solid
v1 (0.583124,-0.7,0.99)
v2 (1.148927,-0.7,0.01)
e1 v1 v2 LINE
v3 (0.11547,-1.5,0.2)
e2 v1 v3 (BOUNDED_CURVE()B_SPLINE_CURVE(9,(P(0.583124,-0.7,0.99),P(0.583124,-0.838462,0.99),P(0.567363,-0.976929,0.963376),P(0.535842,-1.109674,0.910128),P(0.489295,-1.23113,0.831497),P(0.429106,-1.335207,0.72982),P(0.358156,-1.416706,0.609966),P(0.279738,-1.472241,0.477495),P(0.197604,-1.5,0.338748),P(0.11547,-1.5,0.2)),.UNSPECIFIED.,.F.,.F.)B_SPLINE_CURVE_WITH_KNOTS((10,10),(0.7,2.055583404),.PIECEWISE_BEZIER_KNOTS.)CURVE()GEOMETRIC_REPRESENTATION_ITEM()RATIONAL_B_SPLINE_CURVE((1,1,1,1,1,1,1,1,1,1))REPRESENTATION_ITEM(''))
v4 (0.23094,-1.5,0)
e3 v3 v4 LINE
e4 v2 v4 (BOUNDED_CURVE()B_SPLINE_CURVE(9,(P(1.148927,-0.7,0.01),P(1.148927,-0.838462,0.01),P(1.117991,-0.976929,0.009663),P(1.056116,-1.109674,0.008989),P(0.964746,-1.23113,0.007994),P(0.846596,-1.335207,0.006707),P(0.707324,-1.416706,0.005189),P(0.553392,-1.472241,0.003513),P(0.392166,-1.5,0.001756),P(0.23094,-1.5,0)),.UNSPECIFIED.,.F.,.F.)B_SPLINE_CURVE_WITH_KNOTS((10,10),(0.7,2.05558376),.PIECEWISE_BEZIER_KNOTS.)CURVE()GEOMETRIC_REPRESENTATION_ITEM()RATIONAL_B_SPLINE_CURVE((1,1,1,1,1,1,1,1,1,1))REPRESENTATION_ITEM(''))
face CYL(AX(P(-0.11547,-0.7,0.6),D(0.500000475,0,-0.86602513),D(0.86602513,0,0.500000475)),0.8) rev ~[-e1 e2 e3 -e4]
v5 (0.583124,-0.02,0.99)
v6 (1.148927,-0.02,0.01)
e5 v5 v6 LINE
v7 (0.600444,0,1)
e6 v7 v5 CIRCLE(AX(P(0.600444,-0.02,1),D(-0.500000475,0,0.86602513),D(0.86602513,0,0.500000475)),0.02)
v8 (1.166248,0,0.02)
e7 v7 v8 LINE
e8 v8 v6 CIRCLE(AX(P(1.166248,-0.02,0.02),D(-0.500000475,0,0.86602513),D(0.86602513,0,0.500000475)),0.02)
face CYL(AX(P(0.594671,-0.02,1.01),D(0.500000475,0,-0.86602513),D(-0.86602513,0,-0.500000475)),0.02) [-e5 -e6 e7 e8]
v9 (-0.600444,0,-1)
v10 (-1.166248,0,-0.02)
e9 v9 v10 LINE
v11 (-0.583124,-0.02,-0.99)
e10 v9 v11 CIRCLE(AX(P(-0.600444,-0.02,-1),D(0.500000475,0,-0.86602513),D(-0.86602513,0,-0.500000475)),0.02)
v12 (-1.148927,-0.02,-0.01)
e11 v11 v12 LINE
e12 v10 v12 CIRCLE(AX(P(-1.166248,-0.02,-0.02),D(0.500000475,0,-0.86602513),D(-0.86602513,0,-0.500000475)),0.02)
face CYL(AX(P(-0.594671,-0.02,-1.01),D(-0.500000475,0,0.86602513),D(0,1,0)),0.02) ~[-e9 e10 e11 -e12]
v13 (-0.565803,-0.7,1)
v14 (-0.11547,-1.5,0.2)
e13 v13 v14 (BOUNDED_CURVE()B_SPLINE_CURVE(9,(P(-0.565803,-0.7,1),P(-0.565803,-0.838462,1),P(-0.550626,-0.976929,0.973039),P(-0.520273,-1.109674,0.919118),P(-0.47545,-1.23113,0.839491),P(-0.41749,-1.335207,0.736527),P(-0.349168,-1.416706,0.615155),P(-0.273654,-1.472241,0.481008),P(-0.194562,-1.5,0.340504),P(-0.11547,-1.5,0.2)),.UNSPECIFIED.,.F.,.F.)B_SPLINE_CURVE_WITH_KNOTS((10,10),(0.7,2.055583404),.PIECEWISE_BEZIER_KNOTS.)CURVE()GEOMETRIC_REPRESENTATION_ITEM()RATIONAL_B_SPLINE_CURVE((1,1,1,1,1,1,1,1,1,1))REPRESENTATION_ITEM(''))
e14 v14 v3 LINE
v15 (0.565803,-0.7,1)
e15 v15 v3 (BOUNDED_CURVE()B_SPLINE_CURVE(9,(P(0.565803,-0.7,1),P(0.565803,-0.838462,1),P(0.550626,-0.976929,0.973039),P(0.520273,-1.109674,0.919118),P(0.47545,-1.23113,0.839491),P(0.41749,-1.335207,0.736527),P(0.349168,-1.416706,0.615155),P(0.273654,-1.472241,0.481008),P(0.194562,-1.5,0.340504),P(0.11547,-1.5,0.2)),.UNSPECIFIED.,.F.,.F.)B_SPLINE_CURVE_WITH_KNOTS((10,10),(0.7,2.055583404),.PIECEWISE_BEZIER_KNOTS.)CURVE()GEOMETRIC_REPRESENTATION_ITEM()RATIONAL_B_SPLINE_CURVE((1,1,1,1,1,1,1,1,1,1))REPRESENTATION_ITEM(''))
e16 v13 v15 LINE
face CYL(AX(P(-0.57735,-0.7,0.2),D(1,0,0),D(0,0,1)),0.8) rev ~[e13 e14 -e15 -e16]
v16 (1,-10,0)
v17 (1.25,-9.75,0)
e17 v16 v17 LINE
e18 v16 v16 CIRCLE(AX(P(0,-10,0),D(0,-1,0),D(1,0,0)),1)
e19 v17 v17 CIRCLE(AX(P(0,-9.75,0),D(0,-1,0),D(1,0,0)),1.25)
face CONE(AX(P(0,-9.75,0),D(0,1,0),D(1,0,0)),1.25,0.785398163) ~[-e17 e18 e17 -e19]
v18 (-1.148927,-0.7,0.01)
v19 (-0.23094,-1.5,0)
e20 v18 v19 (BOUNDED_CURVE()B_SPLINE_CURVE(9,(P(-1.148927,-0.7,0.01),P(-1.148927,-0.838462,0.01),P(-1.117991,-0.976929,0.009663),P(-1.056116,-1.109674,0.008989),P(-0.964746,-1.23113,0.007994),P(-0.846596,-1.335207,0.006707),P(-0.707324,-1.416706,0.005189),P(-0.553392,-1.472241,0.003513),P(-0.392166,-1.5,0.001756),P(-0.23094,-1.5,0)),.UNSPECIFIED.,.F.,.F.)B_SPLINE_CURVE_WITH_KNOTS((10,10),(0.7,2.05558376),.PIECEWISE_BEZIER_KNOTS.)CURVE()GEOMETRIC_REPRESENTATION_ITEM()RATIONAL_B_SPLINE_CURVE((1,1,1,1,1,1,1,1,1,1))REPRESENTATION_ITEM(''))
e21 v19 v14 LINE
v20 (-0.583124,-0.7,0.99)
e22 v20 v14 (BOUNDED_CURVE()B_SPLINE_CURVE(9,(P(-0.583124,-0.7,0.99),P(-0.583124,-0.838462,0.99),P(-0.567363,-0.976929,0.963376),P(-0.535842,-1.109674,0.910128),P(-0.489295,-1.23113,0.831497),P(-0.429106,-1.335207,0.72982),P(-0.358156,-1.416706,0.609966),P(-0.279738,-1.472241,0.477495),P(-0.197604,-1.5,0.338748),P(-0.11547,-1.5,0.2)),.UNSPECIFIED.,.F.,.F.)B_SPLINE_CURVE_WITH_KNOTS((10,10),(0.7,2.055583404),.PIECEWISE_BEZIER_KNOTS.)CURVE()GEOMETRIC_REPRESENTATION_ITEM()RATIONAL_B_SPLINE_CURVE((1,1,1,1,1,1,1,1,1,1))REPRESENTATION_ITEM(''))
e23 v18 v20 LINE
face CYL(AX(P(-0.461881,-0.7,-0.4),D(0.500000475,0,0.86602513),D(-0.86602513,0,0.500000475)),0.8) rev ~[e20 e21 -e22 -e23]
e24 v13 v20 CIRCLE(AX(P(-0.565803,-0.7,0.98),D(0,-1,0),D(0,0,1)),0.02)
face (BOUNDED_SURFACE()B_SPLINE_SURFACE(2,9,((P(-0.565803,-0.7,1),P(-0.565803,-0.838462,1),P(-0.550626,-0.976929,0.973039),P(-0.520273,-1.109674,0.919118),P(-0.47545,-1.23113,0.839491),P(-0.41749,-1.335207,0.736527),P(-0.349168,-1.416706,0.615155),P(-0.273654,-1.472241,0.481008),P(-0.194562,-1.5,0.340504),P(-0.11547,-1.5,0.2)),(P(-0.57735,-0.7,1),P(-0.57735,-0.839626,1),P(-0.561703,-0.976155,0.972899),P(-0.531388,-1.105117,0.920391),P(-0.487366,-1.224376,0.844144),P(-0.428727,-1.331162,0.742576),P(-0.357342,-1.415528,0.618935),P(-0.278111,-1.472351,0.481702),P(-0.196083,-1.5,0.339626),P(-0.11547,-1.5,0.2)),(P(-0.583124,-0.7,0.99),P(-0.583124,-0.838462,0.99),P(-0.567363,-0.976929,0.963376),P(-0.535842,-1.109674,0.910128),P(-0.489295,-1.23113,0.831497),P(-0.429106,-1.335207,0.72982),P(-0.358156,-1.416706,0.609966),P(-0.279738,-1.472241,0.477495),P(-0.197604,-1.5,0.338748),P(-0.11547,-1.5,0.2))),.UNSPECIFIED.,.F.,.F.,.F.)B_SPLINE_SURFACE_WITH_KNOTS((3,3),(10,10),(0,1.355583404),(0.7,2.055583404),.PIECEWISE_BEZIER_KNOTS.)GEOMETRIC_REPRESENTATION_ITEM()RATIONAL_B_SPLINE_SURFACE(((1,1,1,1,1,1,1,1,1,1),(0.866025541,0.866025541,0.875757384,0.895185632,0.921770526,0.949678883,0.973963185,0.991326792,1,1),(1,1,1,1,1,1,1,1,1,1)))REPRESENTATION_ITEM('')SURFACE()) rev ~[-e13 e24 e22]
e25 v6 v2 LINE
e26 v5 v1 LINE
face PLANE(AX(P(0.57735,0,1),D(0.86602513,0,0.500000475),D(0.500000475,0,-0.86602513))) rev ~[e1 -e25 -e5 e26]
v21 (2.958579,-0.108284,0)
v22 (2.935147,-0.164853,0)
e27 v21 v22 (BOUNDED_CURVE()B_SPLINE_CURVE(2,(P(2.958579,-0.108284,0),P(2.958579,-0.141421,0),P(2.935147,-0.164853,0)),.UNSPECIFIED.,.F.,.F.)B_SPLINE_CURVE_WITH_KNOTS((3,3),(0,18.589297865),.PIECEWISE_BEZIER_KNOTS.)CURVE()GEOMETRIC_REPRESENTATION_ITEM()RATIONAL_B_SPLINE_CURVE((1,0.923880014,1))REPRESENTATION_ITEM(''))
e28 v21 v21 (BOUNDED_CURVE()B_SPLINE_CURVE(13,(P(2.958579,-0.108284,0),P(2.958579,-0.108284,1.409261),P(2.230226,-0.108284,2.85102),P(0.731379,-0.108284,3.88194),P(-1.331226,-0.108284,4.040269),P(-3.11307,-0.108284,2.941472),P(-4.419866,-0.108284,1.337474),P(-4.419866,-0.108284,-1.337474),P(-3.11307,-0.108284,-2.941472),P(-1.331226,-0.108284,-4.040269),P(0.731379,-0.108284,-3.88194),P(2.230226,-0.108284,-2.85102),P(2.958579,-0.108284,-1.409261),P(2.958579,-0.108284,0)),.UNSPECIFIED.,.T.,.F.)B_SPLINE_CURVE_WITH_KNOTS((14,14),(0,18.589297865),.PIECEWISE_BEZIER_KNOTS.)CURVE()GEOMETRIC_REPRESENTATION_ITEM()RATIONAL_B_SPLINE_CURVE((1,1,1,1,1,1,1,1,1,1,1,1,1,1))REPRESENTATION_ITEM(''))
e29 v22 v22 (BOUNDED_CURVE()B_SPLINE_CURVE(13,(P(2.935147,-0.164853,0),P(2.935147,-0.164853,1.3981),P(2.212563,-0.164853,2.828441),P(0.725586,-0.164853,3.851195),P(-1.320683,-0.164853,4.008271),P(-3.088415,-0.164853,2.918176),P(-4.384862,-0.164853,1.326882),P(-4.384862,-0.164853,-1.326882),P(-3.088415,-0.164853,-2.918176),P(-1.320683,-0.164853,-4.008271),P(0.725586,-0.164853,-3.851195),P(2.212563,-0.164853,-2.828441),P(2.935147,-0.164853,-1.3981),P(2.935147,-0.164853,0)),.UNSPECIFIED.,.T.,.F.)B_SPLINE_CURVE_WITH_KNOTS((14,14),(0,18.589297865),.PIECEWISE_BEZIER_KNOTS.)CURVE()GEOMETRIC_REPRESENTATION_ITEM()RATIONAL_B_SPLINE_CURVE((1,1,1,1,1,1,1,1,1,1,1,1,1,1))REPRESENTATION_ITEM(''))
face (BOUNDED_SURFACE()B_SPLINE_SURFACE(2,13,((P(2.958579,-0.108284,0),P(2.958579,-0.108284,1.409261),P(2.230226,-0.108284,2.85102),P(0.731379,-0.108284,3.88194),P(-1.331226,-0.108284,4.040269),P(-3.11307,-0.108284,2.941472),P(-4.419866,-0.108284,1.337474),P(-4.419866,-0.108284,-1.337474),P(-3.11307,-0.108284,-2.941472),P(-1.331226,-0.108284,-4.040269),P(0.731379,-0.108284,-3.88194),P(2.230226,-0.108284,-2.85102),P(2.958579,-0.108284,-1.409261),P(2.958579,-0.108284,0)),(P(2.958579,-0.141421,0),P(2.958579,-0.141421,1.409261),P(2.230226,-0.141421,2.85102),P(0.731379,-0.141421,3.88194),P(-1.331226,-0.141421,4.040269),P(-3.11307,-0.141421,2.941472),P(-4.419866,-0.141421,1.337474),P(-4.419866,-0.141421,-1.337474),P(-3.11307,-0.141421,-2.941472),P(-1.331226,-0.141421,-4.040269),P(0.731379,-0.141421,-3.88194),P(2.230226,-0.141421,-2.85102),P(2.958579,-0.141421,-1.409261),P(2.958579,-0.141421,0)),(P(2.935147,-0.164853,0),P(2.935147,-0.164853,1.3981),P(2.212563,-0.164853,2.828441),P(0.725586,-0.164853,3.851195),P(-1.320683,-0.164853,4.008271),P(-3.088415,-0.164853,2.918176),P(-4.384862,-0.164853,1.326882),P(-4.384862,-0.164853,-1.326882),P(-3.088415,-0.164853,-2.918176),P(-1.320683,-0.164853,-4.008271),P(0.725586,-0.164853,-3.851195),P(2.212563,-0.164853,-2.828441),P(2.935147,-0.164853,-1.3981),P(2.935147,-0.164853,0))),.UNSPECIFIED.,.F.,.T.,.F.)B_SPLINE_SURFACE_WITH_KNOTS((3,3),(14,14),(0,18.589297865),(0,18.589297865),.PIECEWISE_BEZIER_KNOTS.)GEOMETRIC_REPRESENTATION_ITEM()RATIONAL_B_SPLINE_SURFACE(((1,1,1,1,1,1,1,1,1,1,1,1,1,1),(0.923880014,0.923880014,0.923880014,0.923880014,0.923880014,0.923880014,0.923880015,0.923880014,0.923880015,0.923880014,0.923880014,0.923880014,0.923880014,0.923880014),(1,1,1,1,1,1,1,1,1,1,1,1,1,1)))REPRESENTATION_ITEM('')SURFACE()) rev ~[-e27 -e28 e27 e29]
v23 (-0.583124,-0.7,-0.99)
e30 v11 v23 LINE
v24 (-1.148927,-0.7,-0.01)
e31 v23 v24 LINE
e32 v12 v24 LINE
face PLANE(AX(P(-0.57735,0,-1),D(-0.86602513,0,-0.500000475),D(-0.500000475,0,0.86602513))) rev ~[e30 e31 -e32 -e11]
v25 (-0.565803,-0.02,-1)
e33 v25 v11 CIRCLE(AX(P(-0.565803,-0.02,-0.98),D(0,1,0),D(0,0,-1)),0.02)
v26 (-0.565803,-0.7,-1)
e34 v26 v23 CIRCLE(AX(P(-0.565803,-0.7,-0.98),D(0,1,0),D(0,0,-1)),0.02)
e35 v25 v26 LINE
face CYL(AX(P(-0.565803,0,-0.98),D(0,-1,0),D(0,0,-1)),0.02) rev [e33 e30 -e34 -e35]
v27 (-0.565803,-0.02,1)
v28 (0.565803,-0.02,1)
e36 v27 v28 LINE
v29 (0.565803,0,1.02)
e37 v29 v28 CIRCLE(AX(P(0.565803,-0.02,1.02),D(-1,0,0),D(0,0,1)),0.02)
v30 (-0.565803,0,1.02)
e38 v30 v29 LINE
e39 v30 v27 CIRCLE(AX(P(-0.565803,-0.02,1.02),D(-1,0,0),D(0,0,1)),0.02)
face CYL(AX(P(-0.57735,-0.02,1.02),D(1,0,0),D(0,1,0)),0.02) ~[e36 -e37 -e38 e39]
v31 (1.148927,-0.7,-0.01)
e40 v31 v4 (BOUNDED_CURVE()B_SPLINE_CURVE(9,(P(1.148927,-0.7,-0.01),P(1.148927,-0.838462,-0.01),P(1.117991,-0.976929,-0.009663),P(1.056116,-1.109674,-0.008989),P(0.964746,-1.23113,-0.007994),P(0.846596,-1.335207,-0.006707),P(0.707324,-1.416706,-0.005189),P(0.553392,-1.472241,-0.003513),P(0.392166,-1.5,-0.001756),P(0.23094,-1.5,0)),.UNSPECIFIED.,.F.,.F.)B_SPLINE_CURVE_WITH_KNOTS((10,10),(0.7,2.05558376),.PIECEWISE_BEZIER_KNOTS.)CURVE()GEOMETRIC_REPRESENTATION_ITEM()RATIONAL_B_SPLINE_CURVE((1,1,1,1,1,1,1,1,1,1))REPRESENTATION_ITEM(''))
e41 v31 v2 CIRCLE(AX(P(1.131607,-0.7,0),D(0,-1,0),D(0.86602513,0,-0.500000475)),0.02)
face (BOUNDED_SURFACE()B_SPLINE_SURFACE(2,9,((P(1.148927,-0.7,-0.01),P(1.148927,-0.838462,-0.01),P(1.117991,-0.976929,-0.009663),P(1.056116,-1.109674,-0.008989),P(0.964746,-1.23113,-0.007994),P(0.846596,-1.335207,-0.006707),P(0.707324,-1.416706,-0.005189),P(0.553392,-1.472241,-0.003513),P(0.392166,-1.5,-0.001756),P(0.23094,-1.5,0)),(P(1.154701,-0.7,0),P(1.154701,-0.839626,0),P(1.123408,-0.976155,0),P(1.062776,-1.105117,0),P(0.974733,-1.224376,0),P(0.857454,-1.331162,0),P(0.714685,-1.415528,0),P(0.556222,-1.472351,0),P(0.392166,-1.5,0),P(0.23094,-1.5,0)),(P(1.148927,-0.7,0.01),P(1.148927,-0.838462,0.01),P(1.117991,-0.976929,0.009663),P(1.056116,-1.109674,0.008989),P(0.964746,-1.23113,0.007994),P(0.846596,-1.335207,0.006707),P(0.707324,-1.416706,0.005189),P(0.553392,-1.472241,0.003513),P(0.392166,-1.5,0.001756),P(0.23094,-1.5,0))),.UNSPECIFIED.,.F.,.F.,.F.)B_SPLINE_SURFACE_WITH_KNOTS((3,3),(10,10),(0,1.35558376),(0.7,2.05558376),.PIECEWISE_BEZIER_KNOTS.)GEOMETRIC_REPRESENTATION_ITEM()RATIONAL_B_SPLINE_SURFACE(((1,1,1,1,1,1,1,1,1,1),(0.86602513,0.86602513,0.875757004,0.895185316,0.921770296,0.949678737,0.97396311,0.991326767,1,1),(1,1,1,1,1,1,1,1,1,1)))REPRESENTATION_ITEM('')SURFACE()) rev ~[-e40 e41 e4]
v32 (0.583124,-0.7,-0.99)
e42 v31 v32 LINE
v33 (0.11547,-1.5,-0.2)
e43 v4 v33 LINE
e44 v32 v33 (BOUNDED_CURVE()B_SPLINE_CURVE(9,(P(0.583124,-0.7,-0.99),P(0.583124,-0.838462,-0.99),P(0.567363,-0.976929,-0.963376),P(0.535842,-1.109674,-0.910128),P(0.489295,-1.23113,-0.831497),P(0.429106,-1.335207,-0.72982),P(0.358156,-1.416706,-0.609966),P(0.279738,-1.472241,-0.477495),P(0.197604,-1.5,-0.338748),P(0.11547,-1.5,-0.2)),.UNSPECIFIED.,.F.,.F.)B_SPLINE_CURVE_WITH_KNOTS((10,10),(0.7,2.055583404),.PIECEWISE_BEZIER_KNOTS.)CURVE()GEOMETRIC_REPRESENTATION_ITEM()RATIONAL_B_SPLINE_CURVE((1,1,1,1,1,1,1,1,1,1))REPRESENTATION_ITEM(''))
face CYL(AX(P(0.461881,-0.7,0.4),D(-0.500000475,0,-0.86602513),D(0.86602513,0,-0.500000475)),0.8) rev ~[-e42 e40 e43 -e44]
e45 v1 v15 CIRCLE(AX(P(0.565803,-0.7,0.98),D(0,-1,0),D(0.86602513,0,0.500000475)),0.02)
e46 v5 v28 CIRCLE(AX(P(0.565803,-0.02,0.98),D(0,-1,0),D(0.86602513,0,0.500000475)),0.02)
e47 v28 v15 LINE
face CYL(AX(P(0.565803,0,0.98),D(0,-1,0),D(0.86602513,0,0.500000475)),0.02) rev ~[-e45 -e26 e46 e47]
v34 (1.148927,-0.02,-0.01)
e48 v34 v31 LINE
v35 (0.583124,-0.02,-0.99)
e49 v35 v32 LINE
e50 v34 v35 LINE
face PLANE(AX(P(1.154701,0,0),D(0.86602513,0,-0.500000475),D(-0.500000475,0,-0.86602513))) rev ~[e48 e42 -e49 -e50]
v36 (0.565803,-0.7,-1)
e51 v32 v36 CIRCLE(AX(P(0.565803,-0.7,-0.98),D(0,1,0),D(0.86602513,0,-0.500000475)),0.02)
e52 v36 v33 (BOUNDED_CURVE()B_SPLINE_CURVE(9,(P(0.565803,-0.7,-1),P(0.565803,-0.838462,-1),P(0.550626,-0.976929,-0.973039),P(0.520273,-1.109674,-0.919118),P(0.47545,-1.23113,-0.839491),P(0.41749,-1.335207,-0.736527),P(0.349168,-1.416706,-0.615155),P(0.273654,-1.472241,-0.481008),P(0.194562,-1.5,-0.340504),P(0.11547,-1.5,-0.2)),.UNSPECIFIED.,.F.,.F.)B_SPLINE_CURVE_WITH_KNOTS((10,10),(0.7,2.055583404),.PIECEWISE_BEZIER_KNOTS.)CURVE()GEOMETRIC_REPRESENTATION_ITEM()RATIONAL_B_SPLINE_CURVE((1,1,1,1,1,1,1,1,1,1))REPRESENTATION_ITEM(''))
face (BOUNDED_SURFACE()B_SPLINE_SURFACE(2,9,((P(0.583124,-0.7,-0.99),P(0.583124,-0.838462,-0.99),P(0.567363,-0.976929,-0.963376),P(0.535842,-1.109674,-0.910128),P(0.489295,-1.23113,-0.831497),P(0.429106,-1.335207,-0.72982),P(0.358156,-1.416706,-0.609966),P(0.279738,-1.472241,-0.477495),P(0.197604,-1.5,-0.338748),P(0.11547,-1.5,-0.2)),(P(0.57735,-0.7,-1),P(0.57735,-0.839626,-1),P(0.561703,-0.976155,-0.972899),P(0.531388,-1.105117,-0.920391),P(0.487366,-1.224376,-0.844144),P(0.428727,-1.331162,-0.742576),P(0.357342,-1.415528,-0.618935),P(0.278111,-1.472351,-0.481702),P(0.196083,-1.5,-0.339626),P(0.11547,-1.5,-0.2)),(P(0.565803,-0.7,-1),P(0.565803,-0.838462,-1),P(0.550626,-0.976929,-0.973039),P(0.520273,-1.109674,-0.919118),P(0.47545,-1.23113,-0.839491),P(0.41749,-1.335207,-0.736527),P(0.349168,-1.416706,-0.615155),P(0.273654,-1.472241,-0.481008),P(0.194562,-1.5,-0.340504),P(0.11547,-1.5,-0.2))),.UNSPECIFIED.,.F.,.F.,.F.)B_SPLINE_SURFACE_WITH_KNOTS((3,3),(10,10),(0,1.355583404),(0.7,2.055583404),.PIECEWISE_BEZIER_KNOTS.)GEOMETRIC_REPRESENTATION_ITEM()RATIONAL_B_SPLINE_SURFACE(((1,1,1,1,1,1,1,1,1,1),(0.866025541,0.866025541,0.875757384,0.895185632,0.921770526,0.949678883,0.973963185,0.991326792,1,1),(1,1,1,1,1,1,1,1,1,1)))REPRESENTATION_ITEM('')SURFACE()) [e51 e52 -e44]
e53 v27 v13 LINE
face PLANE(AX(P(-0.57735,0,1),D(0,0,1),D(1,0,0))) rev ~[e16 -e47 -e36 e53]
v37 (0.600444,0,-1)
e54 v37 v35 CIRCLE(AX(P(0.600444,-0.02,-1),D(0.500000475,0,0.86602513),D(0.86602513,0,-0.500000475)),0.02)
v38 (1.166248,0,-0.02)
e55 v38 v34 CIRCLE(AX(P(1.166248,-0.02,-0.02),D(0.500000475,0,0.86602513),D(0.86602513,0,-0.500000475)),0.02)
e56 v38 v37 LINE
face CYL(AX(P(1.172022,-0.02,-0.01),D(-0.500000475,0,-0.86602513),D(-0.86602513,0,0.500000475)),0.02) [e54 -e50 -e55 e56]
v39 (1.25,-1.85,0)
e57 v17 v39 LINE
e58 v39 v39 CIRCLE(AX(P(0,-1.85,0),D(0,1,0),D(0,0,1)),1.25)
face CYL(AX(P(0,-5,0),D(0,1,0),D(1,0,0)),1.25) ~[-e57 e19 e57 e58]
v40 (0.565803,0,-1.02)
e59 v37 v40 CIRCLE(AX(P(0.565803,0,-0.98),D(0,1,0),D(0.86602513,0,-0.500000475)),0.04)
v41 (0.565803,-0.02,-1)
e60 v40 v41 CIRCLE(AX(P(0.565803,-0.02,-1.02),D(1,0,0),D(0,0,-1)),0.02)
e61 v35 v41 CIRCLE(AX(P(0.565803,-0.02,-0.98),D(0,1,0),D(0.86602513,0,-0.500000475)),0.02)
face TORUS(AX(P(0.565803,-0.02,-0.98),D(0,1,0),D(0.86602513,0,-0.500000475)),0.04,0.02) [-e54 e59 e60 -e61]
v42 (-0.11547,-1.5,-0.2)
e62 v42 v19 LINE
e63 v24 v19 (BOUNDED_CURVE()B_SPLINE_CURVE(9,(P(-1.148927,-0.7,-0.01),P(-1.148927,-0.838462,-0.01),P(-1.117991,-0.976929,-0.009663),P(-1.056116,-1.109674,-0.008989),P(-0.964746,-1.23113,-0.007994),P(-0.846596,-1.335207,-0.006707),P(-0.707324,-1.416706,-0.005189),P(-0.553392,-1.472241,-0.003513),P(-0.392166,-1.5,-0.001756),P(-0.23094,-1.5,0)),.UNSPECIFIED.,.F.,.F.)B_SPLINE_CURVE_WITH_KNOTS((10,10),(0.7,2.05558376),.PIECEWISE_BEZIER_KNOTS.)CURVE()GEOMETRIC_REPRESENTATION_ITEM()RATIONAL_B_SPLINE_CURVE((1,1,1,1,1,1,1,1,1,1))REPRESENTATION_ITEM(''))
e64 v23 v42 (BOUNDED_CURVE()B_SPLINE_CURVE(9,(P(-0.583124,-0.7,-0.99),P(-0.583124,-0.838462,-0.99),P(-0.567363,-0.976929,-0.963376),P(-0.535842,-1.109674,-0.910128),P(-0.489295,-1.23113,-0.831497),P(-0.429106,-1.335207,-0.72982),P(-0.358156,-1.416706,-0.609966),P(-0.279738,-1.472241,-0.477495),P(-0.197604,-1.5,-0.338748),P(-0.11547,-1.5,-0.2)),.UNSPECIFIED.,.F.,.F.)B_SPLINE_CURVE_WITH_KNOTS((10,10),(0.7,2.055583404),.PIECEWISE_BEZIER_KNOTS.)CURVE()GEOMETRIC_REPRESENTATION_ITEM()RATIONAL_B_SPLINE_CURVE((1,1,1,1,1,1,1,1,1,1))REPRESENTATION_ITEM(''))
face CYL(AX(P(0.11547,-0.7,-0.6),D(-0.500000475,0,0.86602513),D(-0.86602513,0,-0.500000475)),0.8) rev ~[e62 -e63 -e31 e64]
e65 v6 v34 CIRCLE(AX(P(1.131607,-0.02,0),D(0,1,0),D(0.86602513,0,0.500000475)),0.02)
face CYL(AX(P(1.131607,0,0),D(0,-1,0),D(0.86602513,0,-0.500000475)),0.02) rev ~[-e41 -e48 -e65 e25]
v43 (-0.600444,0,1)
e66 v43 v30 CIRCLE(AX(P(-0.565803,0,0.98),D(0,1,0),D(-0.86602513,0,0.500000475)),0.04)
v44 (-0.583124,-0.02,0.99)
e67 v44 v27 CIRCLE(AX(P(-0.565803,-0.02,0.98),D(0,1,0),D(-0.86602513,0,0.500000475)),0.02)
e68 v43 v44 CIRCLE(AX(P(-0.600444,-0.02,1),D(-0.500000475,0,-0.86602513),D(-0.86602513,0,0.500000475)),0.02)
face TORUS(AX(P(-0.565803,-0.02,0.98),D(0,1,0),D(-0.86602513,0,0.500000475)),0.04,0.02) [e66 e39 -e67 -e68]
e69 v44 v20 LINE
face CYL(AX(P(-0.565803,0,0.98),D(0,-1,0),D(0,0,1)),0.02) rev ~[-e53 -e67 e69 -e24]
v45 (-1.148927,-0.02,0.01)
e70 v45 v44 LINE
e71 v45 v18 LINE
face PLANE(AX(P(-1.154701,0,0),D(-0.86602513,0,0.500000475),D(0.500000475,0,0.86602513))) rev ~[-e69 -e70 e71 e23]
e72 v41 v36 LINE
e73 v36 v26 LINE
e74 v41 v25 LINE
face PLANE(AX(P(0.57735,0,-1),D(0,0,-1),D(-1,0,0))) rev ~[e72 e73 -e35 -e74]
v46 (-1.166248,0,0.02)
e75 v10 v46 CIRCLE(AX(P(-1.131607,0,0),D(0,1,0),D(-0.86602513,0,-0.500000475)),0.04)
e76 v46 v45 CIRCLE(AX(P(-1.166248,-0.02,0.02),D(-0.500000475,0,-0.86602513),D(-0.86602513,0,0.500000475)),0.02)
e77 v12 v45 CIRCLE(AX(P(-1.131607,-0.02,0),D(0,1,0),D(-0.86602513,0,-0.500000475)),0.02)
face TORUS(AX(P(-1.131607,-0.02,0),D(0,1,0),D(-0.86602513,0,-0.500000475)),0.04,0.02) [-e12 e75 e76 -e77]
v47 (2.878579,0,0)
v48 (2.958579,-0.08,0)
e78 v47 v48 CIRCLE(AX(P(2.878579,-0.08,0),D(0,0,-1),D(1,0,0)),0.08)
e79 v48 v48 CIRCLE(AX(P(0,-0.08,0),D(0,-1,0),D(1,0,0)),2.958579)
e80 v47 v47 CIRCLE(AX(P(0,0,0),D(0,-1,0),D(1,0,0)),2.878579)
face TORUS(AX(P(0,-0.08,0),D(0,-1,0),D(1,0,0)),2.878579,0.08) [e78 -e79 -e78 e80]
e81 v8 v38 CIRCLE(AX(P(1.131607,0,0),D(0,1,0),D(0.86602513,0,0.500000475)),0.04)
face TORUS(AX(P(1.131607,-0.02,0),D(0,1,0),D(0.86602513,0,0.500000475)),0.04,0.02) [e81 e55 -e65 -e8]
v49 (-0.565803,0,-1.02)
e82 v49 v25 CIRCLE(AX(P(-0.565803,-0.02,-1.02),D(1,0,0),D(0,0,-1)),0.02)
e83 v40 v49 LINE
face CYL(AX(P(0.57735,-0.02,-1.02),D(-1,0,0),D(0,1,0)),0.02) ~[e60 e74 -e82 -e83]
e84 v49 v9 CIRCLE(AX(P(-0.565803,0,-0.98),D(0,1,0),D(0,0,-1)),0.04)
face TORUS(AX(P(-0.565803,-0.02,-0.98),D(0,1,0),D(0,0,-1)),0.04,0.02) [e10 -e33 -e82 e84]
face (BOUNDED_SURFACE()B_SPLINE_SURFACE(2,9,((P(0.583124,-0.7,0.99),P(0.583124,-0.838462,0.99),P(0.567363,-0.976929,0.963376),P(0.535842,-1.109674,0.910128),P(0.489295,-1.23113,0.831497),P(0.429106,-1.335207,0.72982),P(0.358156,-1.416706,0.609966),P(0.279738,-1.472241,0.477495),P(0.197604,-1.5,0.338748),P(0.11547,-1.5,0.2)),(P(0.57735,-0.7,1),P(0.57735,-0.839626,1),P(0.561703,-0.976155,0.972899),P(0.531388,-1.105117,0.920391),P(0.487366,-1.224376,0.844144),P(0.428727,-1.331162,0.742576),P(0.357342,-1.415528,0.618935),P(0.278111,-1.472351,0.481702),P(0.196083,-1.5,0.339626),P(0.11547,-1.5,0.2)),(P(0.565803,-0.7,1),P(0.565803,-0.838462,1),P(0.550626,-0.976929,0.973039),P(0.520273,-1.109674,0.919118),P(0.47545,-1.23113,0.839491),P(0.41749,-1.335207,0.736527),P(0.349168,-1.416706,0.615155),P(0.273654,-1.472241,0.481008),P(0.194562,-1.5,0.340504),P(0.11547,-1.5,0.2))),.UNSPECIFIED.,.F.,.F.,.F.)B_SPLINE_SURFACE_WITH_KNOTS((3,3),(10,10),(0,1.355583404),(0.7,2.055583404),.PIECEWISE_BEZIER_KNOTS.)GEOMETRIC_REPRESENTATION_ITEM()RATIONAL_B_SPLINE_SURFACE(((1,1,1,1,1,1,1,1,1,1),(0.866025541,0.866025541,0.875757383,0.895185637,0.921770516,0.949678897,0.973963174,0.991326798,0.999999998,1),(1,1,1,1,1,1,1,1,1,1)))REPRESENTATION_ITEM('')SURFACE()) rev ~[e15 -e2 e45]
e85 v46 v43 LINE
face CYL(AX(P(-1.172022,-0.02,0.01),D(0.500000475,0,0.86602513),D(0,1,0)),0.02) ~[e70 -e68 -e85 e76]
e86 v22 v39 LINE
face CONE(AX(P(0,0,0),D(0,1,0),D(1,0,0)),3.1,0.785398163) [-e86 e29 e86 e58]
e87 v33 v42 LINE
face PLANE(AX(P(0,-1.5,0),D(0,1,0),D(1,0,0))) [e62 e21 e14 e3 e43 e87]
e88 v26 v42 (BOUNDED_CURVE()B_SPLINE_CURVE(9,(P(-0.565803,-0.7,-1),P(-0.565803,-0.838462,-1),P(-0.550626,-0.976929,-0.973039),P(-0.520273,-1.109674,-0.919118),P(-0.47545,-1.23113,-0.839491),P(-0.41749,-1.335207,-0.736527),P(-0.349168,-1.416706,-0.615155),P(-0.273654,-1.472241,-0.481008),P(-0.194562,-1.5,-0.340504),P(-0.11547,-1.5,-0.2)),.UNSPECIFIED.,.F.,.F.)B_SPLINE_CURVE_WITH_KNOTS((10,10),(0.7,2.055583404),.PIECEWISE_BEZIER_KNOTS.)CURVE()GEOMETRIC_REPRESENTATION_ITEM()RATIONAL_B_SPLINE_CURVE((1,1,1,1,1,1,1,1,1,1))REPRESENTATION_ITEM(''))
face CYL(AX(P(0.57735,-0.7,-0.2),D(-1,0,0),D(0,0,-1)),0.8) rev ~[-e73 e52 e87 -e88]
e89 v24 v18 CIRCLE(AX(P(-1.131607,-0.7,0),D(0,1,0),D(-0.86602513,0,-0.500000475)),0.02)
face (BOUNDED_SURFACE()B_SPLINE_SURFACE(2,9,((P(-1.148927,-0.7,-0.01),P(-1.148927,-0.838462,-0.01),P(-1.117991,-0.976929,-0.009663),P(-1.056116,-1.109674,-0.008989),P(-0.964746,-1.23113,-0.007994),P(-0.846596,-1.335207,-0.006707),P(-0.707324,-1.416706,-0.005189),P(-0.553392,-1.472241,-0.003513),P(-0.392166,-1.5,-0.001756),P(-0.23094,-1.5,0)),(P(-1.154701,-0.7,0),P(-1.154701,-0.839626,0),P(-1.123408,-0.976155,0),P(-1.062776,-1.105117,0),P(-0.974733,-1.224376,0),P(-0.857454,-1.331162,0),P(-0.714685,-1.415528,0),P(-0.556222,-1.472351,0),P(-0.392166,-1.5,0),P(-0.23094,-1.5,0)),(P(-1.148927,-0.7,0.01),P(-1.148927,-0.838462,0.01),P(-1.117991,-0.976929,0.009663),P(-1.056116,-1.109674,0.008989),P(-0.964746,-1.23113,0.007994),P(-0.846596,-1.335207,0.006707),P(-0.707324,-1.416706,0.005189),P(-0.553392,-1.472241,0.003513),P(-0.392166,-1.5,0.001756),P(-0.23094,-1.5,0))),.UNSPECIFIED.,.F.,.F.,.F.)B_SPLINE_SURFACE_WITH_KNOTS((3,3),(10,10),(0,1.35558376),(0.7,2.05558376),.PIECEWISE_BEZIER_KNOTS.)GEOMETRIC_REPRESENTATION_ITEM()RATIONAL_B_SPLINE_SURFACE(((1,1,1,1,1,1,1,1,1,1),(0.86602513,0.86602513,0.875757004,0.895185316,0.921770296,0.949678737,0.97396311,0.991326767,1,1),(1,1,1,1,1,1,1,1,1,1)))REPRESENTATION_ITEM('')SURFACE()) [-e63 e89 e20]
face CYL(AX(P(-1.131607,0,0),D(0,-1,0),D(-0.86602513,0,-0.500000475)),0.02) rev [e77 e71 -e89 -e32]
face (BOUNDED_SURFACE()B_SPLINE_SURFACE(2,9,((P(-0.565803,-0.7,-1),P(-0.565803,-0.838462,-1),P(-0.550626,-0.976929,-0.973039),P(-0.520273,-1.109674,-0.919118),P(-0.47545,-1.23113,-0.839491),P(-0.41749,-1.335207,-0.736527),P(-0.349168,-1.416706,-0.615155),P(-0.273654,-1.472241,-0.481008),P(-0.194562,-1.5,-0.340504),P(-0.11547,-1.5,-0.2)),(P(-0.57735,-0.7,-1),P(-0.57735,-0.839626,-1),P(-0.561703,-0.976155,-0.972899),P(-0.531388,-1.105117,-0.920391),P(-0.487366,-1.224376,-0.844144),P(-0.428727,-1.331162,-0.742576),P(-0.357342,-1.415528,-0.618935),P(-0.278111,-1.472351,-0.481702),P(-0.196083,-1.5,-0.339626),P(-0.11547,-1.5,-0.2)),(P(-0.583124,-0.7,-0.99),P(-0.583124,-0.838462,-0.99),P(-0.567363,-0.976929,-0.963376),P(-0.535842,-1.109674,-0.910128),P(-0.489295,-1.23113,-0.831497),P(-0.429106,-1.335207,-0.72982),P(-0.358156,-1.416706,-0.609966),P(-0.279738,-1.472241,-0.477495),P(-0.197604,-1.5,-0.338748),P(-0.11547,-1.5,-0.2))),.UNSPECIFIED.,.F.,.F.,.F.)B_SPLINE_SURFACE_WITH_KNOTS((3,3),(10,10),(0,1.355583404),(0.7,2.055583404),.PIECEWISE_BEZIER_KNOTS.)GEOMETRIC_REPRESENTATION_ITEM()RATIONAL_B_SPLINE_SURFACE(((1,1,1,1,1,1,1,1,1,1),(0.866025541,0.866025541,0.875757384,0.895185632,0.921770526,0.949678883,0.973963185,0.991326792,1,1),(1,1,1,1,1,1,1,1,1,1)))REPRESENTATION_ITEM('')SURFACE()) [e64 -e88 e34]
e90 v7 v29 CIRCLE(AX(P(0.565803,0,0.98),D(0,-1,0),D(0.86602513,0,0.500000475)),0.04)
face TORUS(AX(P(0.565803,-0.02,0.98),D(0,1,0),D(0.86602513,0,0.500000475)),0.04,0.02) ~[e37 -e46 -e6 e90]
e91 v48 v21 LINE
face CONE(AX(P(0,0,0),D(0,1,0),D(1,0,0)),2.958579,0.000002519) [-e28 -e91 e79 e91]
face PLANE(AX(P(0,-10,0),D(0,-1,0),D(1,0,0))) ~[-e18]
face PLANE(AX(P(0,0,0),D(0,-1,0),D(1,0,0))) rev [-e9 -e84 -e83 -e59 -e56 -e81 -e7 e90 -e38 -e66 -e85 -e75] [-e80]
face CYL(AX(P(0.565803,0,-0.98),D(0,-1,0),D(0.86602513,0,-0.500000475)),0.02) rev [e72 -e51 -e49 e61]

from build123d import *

# Parameters (mm, degrees)
SKETCH8_W          = 1.25
SKETCH8_H          = 10
CHAMFER1_SIZE      = 0.25
CHAMFER2_SIZE2     = 0.2
CHAMFER2_SIZE      = 0.141421
FILLET1_R          = 0.08
CUT_EXTRUDE1_DEPTH = 1.5
FILLET2_R          = 0.8
FILLET5_R          = 0.02


with BuildPart() as part:
    # Sketch8 → Revolve1 (revolve)
    with BuildSketch(Plane.XY):
        with Locations((0.625, -5)):
            Rectangle(SKETCH8_W, SKETCH8_H)
    revolve(axis=Axis((0, 0, 0), (0, -1, 0)))

    # Chamfer1
    chamfer1_edges = [part.edges().sort_by_distance(p)[0] for p in [
        (-1.25, -10, 0),
    ]]
    chamfer(chamfer1_edges, length=CHAMFER1_SIZE)

    # Sketch13 → Revolve2 (revolve)
    with BuildSketch(Plane.XY):
        Polygon((0, 0), (3.1, 0), (0, -3.1), align=None)
    revolve(axis=Axis((0, 0, 0), (0, -1, 0)))

    # Chamfer2
    chamfer2_edges = [part.edges().sort_by_distance(p)[0] for p in [
        (-3.1, 0, 0),
    ]]
    chamfer(chamfer2_edges, length=CHAMFER2_SIZE, length2=CHAMFER2_SIZE2)

    # Fillet1
    fillet1_edges = [part.edges().sort_by_distance(p)[0] for p in [
        (-2.958578, 0, 0),
        (-2.958578, -0.141421, 0),
    ]]
    fillet(fillet1_edges, radius=FILLET1_R)

    # Sketch14 → Cut-Extrude1 (cut)
    with BuildSketch(Plane(origin=(0, 0, 0), x_dir=(1, 0, 0), z_dir=(0, 1, 0))):
        Polygon((1.154701, 0), (0.57735, 1), (-0.57735, 1), (-1.154701, 0), (-0.57735, -1), (0.57735, -1), align=None)
    extrude(amount=-CUT_EXTRUDE1_DEPTH, mode=Mode.SUBTRACT)

    # Fillet2
    fillet2_edges = [part.edges().sort_by_distance(p)[0] for p in [
        (0.866025, -1.5, 0.5),
        (0, -1.5, 1),
        (-0.866025, -1.5, 0.5),
        (-0.866025, -1.5, -0.5),
        (0, -1.5, -1),
        (0.866025, -1.5, -0.5),
    ]]
    fillet(fillet2_edges, radius=FILLET2_R)

    # Fillet5
    fillet5_edges = [part.edges().sort_by_distance(p)[0] for p in [
        (0.866025, 0, 0.5),
        (0.866025, 0, -0.5),
        (0, 0, -1),
        (-0.866025, 0, -0.5),
        (-0.866025, 0, 0.5),
        (0, 0, 1),
        (0.57735, -0.35, 1),
        (-0.57735, -0.35, 1),
        (-1.154701, -0.35, 0),
        (-0.57735, -0.35, -1),
        (0.57735, -0.35, -1),
        (1.154701, -0.35, 0),
        (-0.430209, -1.285507, -0.745143),
        (0.430209, -1.285507, -0.745143),
        (-0.860417, -1.285507, 0),
        (0.860417, -1.285507, 0),
        (-0.430209, -1.285507, 0.745143),
        (0.430209, -1.285507, 0.745143),
    ]]
    fillet(fillet5_edges, radius=FILLET5_R)


solid = part.part
